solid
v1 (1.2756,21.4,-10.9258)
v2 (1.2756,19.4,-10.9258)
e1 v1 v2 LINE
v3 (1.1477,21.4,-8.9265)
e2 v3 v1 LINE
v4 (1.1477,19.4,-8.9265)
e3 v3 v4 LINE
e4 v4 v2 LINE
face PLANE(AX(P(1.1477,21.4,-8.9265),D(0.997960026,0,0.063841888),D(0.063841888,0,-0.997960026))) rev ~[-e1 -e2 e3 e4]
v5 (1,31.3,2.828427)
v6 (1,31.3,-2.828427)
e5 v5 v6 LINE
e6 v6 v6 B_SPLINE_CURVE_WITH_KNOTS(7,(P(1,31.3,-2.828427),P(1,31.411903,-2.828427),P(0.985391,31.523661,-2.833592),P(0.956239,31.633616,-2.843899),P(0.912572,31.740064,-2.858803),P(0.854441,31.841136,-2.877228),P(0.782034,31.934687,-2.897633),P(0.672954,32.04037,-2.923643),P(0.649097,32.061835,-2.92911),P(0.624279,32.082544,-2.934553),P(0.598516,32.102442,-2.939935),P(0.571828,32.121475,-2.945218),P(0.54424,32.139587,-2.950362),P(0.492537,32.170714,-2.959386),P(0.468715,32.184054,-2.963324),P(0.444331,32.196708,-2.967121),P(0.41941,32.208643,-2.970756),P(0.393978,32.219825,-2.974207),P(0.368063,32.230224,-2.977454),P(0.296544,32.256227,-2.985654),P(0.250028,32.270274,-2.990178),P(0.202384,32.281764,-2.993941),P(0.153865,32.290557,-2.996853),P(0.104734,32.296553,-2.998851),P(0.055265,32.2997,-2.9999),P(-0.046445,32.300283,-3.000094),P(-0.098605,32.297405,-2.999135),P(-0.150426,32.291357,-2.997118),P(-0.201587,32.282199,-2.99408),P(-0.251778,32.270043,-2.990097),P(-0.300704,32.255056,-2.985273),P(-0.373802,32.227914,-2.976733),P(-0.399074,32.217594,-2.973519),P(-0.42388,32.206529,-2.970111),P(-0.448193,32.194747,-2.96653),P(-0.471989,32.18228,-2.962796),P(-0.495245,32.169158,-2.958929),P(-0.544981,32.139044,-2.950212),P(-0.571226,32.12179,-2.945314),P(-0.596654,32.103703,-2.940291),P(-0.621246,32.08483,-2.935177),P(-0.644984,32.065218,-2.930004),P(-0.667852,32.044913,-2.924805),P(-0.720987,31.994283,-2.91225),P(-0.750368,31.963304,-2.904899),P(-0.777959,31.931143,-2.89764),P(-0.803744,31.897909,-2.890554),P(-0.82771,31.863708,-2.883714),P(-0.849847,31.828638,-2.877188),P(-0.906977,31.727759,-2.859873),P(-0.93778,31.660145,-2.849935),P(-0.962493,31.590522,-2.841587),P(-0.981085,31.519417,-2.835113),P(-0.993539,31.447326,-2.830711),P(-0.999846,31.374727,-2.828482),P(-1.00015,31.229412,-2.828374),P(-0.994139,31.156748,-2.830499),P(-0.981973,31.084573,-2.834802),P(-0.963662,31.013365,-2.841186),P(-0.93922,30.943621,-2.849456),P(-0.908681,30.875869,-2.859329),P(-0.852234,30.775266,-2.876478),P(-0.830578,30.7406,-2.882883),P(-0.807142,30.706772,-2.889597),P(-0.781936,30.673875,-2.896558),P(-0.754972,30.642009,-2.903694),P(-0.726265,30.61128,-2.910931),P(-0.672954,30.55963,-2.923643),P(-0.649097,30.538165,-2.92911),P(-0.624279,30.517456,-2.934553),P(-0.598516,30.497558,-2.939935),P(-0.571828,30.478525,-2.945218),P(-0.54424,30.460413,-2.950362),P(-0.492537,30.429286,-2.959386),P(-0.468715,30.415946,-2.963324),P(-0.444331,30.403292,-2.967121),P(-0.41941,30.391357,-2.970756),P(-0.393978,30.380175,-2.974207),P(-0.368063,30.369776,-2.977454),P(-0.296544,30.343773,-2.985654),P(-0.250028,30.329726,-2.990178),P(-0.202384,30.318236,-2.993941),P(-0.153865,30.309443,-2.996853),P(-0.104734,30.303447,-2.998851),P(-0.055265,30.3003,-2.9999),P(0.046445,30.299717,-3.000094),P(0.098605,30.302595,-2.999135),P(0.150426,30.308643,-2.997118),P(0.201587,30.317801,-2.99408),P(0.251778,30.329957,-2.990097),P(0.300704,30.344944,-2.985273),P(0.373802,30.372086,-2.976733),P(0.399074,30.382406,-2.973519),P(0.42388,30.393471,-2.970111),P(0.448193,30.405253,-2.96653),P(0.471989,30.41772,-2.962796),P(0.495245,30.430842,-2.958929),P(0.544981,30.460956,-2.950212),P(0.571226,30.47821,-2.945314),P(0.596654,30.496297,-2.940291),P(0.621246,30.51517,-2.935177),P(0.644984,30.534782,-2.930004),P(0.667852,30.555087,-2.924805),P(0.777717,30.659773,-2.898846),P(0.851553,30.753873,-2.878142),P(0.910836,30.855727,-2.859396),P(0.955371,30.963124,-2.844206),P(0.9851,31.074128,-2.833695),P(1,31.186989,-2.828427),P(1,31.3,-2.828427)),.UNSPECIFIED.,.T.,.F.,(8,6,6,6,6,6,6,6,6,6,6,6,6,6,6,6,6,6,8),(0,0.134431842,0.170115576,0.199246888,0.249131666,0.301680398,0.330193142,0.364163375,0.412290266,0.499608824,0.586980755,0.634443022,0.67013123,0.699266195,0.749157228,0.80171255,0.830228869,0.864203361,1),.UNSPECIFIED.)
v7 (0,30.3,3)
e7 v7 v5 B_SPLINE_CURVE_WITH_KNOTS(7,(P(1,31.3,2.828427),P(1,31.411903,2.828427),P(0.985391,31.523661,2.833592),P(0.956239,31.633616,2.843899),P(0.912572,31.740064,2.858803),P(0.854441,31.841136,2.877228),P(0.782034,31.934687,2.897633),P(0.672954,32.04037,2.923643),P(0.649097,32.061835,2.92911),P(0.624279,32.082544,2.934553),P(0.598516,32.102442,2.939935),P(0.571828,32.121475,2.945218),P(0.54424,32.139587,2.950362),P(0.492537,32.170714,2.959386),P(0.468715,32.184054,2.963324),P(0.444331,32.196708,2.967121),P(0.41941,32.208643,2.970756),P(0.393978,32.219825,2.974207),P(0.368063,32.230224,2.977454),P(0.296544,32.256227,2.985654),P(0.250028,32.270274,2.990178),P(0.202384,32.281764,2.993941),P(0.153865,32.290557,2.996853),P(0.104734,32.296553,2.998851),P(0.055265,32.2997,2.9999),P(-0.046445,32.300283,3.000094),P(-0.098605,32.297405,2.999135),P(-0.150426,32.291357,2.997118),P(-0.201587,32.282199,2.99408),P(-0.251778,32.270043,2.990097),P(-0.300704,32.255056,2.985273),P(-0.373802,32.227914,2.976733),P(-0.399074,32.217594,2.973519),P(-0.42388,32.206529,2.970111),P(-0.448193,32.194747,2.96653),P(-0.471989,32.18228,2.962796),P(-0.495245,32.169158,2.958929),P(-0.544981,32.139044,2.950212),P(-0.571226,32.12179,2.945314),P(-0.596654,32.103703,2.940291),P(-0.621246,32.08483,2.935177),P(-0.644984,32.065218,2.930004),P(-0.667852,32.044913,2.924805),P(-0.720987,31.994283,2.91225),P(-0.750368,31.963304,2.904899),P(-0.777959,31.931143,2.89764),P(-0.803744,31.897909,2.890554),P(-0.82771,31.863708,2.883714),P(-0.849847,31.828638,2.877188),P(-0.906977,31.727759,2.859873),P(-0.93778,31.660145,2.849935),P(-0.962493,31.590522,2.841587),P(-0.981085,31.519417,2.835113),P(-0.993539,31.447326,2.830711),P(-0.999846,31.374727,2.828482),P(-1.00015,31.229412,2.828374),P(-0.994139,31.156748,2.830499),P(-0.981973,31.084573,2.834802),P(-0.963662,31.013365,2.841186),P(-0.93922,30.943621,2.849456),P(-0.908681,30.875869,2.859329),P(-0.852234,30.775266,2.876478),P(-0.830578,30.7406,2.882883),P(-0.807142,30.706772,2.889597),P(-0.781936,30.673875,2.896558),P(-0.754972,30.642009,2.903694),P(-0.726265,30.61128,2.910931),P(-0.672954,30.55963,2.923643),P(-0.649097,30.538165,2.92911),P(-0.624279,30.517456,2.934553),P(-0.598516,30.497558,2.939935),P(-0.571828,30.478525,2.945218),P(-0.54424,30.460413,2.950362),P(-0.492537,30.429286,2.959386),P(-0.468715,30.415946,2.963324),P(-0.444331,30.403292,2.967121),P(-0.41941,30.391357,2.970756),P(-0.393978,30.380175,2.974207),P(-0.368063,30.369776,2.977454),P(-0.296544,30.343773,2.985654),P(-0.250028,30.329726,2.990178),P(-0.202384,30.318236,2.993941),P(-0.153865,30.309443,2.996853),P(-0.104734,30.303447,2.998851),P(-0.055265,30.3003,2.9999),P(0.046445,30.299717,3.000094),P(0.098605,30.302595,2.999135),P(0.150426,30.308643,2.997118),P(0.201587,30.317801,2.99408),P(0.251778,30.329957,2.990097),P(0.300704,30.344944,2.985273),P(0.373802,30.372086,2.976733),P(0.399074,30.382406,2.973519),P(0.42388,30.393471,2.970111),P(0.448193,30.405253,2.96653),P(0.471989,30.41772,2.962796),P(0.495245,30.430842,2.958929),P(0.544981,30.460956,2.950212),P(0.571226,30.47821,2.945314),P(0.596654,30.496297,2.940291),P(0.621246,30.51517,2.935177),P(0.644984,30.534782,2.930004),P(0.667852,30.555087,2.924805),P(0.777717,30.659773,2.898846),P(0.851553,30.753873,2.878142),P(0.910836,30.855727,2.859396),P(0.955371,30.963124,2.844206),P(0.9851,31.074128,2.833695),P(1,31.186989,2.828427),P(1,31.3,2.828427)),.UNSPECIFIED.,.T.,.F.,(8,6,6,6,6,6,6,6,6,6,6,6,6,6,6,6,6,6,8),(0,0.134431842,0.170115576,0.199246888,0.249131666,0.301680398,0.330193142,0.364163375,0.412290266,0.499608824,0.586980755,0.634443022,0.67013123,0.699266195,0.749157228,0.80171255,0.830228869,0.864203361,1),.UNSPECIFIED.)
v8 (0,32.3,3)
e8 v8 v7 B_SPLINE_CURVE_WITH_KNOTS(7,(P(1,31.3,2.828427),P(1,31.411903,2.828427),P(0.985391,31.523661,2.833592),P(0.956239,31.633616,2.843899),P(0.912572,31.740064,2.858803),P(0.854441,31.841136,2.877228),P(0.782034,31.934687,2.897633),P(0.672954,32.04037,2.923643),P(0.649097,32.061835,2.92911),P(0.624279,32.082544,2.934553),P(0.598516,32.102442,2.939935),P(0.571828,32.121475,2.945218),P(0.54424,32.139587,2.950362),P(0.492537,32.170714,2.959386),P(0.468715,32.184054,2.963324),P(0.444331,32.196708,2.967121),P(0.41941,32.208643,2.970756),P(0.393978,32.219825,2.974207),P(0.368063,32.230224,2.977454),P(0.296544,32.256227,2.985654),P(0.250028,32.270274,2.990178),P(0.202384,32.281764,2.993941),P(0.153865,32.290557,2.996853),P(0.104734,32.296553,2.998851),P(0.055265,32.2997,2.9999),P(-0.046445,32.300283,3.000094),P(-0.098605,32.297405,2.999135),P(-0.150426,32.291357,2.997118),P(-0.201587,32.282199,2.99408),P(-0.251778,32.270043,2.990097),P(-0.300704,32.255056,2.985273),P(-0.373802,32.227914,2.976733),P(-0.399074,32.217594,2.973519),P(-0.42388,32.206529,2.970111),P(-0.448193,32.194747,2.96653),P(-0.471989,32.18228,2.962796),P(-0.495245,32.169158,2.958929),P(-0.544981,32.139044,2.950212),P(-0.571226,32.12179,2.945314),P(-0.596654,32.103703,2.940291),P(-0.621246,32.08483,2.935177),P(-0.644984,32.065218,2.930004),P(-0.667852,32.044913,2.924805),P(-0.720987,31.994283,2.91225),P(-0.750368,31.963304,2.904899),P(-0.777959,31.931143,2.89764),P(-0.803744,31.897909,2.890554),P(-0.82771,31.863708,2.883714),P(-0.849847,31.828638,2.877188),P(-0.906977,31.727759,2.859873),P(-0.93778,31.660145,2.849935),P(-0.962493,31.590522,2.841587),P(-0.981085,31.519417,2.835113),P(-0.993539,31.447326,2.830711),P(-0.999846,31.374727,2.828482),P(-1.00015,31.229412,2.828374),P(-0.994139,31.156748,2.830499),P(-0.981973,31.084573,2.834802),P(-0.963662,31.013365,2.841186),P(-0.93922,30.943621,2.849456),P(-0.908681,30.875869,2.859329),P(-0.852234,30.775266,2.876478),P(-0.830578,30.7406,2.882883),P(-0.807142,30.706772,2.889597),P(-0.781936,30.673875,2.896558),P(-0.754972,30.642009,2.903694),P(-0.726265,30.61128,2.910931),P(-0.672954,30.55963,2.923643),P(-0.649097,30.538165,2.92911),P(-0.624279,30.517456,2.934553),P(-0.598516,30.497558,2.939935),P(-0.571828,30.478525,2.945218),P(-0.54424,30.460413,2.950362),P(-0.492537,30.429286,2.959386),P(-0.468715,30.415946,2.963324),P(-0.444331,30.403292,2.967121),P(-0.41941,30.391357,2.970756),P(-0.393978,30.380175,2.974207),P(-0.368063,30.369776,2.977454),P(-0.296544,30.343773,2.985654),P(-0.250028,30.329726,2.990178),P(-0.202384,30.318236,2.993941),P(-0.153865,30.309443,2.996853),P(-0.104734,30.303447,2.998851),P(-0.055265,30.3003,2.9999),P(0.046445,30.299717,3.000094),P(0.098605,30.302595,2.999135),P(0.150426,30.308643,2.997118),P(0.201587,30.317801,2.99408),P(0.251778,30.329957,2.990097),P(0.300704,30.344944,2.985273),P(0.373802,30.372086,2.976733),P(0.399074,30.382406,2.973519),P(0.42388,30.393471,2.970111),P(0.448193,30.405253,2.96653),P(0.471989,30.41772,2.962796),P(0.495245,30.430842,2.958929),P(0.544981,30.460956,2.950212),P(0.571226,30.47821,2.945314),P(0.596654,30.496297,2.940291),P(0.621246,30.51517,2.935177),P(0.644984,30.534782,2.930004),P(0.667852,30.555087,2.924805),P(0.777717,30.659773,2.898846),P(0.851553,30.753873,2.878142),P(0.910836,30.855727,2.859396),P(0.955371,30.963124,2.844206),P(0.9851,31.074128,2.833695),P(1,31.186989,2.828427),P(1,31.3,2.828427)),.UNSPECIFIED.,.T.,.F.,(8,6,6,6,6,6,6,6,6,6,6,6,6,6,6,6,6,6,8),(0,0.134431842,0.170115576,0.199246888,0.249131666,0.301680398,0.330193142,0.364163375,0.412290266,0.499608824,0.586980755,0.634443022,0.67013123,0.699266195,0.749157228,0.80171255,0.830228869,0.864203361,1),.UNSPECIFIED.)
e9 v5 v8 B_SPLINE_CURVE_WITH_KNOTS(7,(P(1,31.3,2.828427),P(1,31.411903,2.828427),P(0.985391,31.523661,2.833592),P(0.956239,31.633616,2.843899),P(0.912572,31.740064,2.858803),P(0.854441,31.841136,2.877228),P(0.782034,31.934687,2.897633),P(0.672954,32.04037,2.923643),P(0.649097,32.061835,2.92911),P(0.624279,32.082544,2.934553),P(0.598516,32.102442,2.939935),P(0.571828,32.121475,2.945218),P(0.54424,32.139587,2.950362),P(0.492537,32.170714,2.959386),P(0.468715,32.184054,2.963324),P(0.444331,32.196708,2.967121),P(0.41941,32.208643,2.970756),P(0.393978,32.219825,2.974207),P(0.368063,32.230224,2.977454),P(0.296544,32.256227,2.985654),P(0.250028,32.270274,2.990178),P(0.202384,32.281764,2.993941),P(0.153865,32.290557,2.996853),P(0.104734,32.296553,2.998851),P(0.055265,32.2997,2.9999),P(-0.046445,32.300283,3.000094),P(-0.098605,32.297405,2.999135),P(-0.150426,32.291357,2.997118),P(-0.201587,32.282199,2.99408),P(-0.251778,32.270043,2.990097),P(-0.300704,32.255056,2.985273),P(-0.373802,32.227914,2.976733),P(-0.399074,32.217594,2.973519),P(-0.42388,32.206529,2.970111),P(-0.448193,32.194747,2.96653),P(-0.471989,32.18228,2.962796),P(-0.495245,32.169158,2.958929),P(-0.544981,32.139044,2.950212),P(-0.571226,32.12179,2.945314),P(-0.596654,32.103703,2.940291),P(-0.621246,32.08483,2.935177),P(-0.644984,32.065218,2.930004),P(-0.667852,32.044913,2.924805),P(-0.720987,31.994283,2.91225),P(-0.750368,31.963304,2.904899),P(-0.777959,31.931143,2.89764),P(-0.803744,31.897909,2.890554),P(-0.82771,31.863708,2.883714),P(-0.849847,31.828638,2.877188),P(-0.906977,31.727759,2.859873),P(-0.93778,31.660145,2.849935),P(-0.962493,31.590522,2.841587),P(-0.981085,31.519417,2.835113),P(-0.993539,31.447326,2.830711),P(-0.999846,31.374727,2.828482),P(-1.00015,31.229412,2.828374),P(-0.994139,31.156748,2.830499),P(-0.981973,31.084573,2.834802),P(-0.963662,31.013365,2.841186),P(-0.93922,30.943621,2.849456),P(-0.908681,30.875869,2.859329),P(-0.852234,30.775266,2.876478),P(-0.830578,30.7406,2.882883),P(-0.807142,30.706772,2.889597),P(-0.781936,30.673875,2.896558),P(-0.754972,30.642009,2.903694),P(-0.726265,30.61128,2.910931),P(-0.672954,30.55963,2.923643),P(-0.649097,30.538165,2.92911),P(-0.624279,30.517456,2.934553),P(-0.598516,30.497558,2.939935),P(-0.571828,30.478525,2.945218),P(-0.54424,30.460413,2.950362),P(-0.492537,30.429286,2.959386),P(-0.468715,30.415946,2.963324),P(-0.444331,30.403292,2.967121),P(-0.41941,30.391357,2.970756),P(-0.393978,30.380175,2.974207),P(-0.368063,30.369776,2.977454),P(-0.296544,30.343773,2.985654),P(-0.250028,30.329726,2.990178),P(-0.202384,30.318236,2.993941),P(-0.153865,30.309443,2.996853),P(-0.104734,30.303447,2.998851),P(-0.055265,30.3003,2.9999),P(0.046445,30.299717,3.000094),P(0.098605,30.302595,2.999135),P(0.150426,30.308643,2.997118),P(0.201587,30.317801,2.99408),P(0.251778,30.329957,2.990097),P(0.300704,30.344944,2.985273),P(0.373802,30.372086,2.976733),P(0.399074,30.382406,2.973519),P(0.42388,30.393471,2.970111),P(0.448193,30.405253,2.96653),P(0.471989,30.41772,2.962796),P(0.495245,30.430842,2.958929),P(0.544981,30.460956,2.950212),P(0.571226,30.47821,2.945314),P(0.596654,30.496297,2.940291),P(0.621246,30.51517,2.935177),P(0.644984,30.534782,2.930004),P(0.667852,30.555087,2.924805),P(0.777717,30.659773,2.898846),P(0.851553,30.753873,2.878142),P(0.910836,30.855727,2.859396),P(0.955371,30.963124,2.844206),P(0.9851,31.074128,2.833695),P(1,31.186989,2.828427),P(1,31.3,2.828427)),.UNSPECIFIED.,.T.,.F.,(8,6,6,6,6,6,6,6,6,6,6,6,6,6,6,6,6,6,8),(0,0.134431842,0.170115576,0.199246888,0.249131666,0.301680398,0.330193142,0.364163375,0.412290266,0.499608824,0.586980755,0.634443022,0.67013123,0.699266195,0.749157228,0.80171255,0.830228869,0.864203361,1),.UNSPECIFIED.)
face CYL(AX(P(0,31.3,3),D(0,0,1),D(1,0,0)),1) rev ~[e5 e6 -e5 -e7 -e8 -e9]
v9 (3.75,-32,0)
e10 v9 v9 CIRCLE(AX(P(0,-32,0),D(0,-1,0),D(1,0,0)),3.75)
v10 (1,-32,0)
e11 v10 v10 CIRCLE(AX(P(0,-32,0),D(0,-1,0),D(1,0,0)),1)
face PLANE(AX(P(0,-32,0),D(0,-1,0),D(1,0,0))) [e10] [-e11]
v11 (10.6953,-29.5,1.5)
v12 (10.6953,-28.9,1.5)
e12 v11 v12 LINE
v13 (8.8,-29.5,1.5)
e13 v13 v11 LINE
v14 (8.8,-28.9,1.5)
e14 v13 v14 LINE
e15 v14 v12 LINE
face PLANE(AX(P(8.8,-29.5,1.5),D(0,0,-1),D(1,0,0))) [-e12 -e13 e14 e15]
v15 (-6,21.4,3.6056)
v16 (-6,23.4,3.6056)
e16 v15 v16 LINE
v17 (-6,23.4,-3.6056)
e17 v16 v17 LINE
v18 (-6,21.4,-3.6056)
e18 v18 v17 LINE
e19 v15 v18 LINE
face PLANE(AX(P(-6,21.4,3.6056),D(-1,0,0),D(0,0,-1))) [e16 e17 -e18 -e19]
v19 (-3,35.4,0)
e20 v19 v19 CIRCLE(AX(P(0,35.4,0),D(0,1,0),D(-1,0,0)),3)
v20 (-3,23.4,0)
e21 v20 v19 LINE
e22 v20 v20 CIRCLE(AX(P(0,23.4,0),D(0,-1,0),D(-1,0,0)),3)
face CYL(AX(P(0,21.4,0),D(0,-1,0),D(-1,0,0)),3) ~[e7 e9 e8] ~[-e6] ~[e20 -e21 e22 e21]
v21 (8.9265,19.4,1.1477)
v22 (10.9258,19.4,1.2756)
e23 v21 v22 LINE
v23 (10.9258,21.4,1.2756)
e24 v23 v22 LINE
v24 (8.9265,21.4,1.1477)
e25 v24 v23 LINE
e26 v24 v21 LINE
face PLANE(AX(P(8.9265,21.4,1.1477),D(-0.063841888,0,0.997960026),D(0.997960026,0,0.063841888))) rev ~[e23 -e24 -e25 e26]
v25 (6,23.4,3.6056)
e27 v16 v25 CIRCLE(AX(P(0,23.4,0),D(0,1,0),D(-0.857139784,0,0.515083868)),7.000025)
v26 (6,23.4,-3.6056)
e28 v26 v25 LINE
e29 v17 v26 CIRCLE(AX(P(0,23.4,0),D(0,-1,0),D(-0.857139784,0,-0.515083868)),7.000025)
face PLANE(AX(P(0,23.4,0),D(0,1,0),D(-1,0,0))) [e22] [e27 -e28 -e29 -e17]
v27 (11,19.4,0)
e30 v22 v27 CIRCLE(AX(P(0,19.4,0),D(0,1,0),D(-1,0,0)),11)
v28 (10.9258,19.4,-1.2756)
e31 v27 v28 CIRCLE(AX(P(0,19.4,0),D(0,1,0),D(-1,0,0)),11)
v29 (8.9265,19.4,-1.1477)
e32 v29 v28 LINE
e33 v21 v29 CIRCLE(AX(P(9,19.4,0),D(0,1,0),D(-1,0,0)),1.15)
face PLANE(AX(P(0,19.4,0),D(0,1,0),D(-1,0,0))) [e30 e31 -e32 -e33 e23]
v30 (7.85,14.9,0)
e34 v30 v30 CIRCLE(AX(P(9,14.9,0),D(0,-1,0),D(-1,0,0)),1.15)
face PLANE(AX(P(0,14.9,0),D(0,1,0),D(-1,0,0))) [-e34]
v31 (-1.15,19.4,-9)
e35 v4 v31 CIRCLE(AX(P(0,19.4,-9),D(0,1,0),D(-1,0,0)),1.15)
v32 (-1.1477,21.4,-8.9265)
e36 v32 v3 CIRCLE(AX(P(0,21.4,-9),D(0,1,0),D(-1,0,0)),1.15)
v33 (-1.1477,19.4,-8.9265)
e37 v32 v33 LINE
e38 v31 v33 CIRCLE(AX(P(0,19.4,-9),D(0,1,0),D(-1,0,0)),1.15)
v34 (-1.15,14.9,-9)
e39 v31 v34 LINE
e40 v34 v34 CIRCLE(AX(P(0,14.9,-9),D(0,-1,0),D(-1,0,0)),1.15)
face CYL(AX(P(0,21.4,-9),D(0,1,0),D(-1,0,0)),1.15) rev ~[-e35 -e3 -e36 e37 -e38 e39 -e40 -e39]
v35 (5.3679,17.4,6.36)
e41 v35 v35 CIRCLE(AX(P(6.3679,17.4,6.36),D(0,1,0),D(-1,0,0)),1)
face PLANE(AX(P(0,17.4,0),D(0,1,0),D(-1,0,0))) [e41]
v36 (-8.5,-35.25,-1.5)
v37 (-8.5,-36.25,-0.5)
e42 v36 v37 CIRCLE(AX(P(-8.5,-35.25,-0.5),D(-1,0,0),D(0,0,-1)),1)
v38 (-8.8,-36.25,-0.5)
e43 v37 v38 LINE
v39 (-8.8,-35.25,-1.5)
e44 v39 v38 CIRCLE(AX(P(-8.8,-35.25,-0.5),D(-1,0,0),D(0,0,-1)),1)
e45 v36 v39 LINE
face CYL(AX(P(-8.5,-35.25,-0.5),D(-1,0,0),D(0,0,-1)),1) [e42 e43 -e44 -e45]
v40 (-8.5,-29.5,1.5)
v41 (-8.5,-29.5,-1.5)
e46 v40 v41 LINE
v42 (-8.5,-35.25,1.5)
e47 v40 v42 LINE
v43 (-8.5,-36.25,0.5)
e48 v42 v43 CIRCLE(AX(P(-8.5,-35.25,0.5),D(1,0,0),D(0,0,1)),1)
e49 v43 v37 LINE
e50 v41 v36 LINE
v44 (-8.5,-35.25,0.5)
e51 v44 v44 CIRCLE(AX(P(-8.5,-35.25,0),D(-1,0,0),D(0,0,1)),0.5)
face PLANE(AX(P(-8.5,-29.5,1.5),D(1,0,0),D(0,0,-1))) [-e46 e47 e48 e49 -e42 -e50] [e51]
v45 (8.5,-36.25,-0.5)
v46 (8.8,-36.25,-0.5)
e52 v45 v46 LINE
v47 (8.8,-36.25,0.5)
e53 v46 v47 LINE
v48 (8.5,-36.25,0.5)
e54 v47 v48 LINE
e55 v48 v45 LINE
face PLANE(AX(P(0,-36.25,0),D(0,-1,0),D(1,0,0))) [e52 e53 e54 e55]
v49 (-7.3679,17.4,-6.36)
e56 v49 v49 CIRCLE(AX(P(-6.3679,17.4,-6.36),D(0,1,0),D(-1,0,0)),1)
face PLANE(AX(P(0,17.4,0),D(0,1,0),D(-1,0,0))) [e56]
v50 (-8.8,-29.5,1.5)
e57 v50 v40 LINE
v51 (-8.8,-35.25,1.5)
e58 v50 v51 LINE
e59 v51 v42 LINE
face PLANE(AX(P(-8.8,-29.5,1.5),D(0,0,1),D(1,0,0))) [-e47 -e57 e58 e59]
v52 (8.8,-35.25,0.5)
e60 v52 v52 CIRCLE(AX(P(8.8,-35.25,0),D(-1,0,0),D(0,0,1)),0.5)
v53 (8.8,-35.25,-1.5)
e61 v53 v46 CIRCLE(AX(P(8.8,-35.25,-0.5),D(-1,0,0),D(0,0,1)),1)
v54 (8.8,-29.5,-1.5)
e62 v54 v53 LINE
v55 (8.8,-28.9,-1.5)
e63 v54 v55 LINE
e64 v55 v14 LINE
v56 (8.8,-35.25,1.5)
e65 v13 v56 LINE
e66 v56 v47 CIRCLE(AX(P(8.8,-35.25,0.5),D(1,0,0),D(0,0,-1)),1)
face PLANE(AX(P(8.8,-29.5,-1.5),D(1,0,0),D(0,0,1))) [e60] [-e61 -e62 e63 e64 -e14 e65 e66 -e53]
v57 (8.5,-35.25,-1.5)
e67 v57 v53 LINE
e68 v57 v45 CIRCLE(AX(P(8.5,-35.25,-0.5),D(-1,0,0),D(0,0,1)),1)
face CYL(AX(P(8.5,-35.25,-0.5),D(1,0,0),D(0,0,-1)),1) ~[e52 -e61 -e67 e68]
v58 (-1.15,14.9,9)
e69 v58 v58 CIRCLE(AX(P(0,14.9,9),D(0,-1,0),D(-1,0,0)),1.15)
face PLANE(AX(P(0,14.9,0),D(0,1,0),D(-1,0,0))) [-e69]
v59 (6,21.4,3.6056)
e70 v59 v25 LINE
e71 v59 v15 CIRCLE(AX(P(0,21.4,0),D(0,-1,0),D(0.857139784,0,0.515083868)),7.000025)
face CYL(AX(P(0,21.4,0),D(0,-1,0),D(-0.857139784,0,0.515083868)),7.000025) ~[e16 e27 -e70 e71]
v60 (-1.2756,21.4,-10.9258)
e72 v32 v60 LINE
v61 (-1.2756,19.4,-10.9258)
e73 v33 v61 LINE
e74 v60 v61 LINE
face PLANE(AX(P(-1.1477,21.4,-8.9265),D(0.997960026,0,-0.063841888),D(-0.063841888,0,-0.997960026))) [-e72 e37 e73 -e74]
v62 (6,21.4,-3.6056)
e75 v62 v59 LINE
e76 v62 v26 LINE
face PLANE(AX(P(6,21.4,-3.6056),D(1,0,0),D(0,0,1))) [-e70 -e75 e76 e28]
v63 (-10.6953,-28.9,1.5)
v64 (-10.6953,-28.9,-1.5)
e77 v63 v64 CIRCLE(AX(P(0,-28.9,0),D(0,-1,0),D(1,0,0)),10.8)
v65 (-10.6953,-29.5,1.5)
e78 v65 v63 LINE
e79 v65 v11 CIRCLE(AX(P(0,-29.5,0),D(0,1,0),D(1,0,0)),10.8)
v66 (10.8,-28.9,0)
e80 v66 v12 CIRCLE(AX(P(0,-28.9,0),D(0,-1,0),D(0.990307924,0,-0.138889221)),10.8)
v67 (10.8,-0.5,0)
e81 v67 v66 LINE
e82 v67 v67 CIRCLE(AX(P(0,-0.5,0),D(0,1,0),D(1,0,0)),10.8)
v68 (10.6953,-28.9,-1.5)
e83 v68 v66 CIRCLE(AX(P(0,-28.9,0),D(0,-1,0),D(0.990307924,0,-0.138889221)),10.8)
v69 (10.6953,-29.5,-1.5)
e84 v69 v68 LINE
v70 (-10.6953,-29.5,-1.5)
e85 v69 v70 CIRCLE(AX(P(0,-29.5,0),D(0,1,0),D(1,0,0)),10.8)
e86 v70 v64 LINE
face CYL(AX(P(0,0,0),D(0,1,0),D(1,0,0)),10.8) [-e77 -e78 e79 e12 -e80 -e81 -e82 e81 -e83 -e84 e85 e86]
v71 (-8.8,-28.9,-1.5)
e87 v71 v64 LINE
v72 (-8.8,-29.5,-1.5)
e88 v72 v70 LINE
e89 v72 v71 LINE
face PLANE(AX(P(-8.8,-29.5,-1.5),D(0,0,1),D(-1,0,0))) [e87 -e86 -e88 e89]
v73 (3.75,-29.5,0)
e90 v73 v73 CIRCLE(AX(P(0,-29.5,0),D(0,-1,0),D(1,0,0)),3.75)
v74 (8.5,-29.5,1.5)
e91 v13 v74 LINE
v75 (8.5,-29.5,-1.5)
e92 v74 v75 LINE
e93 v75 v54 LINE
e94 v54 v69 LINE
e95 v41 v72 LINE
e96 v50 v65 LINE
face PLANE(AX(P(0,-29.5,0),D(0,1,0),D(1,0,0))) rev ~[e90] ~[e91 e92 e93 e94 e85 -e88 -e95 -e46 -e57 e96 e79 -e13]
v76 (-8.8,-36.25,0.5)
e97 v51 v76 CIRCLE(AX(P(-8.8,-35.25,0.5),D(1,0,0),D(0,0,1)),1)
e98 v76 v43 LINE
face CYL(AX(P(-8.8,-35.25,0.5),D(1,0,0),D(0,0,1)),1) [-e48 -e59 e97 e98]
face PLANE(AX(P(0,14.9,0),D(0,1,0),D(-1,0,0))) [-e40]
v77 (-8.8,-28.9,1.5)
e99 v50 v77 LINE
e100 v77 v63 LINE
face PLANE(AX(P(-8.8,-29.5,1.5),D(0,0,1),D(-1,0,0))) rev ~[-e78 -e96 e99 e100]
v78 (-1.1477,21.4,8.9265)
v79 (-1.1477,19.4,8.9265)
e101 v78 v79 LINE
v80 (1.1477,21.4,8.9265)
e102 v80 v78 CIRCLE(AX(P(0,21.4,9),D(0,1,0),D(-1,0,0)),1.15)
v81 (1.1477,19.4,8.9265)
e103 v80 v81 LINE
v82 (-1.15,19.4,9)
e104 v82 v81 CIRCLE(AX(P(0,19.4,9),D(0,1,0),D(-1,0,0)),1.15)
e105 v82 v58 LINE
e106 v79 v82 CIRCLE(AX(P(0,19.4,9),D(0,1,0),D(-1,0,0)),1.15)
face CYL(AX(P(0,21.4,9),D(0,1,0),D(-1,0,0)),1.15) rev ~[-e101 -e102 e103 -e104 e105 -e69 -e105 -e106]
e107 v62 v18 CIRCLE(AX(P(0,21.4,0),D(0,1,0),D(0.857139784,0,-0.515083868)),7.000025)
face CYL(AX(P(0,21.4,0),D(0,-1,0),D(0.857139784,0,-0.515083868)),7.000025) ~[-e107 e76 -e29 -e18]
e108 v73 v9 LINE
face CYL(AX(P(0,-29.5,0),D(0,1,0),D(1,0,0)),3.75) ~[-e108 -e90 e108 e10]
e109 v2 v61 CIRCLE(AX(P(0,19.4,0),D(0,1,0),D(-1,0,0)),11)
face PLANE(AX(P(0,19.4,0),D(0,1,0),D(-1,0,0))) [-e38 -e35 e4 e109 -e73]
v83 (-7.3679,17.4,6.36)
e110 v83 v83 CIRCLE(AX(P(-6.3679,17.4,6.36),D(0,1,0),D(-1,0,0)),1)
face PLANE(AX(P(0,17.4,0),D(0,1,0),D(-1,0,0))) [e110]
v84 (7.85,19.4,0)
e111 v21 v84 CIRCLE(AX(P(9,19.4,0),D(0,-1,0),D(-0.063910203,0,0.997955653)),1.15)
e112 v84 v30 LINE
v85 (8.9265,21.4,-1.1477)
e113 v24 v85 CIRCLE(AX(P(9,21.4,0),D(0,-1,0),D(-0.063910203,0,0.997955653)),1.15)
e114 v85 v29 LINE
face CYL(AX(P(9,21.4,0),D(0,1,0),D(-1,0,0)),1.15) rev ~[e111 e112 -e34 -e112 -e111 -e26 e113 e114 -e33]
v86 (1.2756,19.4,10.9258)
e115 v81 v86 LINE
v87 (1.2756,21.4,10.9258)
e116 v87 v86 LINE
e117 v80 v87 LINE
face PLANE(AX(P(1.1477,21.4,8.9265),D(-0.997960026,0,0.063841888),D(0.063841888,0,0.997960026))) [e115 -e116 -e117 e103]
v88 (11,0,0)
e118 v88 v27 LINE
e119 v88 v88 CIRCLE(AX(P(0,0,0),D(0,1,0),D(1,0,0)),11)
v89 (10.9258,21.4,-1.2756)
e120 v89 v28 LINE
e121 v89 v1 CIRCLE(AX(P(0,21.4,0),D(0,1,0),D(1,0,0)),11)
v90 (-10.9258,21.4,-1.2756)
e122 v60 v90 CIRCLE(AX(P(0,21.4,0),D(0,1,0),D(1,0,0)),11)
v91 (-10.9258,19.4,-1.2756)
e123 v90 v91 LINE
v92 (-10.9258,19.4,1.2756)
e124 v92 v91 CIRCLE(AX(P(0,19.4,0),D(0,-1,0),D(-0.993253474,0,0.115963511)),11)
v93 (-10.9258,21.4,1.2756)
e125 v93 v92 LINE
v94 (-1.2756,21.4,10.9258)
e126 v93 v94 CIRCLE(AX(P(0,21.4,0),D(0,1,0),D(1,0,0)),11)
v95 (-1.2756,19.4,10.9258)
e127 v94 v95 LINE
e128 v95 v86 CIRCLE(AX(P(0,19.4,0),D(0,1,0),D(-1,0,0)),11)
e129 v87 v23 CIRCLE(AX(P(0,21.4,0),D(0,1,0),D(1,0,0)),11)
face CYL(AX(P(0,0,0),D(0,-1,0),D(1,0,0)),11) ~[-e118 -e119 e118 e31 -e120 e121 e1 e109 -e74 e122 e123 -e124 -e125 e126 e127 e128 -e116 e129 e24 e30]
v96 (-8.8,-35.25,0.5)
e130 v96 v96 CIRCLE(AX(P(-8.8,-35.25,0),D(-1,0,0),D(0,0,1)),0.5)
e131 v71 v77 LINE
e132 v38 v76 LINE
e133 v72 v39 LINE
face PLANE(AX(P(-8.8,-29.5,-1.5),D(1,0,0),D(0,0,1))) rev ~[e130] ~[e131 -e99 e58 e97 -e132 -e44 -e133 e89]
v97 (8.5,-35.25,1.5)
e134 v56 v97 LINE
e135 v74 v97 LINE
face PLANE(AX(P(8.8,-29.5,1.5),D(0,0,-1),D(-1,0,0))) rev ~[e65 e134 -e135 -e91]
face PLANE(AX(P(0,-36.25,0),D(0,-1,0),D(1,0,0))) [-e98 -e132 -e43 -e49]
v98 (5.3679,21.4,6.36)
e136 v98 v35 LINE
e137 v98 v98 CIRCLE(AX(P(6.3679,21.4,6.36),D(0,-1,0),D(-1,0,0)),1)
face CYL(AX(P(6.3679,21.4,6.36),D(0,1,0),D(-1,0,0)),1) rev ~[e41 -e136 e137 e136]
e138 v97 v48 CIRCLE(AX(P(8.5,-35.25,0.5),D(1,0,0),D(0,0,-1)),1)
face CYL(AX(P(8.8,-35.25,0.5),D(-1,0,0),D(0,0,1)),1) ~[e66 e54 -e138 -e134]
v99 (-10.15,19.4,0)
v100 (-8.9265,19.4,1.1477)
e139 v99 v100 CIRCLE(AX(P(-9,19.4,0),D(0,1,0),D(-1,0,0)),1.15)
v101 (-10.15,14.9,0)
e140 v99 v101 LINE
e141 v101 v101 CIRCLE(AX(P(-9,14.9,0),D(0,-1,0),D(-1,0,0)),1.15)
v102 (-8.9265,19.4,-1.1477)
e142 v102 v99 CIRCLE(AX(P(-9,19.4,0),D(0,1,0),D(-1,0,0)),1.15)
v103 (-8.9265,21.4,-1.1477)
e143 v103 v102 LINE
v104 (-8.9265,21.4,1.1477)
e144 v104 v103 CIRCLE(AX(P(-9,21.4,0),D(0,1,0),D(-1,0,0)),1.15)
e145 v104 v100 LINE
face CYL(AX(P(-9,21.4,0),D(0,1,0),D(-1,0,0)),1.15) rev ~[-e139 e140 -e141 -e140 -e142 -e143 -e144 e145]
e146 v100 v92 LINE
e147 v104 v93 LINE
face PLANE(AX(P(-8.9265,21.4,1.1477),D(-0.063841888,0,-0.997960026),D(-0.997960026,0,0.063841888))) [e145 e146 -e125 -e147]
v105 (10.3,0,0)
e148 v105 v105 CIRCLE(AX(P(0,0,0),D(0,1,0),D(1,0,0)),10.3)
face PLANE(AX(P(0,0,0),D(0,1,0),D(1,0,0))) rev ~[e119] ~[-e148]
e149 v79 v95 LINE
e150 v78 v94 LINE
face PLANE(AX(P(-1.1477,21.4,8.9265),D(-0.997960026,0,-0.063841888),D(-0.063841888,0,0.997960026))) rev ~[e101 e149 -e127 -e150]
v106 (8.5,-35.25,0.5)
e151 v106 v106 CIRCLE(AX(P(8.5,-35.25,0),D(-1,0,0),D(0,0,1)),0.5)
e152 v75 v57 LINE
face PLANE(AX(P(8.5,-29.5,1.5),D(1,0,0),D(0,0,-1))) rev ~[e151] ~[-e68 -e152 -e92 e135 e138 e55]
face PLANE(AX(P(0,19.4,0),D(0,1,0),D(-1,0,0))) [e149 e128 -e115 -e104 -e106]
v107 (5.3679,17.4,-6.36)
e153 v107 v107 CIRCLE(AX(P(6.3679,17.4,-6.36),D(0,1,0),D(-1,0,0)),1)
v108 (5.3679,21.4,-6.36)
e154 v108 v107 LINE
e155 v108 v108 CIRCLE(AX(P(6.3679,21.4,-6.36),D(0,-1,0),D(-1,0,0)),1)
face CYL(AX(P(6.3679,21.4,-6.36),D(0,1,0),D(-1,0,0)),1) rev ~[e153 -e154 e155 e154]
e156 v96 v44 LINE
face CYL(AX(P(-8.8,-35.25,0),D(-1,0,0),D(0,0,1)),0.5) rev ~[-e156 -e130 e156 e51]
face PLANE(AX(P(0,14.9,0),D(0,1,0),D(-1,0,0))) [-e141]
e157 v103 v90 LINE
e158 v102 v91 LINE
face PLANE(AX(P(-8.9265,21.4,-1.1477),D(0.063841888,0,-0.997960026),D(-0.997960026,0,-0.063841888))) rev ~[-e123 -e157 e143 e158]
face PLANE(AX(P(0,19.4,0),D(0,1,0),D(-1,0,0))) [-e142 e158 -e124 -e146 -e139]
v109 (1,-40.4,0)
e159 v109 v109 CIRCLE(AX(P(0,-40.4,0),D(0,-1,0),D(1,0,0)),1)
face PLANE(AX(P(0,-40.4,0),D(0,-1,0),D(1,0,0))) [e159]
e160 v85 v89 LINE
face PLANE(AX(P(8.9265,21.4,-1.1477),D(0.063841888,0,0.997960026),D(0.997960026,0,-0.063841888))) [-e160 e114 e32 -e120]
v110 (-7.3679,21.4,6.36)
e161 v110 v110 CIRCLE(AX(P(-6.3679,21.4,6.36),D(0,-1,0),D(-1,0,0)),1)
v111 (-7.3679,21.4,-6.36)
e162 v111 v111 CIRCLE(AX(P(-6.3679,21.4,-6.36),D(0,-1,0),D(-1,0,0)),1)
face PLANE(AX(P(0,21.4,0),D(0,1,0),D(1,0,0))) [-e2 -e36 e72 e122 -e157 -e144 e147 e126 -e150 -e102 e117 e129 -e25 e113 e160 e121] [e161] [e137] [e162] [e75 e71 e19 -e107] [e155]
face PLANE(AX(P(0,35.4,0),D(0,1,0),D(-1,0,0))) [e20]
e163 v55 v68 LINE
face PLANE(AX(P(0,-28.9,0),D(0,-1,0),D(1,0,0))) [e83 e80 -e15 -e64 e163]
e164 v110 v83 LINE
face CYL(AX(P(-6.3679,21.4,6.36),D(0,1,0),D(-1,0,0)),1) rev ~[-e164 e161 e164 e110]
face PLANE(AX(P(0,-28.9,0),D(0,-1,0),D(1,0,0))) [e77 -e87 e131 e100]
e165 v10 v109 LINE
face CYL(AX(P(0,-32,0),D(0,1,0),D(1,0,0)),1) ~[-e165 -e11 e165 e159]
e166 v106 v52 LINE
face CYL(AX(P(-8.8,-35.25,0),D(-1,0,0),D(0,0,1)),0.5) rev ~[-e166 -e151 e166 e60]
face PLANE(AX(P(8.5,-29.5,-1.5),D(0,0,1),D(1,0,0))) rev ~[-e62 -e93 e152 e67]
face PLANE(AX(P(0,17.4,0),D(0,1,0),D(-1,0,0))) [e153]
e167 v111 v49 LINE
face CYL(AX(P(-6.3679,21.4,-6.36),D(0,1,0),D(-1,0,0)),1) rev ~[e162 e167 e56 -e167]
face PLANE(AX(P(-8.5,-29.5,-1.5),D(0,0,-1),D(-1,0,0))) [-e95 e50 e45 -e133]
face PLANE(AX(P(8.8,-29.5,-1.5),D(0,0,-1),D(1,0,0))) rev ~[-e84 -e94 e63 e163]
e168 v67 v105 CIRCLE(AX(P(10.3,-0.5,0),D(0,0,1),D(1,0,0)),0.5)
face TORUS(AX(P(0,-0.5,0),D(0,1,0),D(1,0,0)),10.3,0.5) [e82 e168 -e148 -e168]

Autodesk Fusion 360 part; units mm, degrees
sketch "Sketch1" plane through (0, 0, 0) normal (0, 1, 0) x (1, 0, 0)
  circle A0 centre (0, 0) radius 11
  circle A1 centre (0, 0) radius 10.8
  dimension "d1" = 22
  dimension "d4" = 21.6
extrude "Extrude1" add sketch "Sketch1" along normal blind 21.4 contours A0 | A1 makes body 1
extrude "Extrude2" add sketch "Sketch1" against normal blind 29.5 separate body contours A1 makes body 2
sketch "Sketch2" plane through (0, -29.5, 0) normal (0, -1, 0) x (1, 0, 0)
  circle A0 centre (0, 0) radius 10.8
  circle A1 centre (0, 0) radius 3.75
  circle A2 centre (0, 0) radius 1
  dimension "d7" = 7.5
  dimension "d8" = 2
extrude "Extrude3" add sketch "Sketch2" along normal blind 2.5 contours A1 | A2 bodies 2
sketch "Sketch3" plane through (0, -29.5, 0) normal (0, -1, 0) x (1, 0, 0)
  circle A0 centre (0, 0) radius 3.75
  circle A1 centre (0, 0) radius 10.8
  line L0 (0, 0) -> (10.8, 0) construction
  line L1 (0, 0) -> (0, 10.8) construction
  line L2 (8.5, -1.5) -> (8.8, -1.5)
  line L3 (8.8, -1.5) -> (8.8, 1.5)
  line L4 (8.8, 1.5) -> (8.5, 1.5)
  line L5 (8.5, 1.5) -> (8.5, -1.5)
  line L6 (8.5, -1.5) -> (8.8, 1.5) construction
  line L7 (8.8, -1.5) -> (8.5, 1.5) construction
  line L8 (-8.8, -1.5) -> (-8.5, 1.5) construction
  line L9 (-8.5, 1.5) -> (-8.5, -1.5)
  line L10 (-8.8, -1.5) -> (-8.8, 1.5)
  line L11 (0, 0) -> (-10.8, 0) construction
  line L12 (-8.5, -1.5) -> (-8.8, 1.5) construction
  line L13 (-8.8, 1.5) -> (-8.5, 1.5)
  line L14 (-8.5, -1.5) -> (-8.8, -1.5)
  line L15 (-8.8, 1.5) -> (-10.6953, 1.5)
  line L16 (-8.8, -1.5) -> (-10.6953, -1.5)
  circle A2 centre (0, 0) radius 10.8
  line L17 (8.8, 1.5) -> (10.6953, 1.5)
  line L18 (8.8, -1.5) -> (10.6953, -1.5)
  point P0 (8.65, 0)
  dimension "d14" = 0.3
  dimension "d15" = 3
  dimension "d16" = 2
extrude "Extrude5" add sketch "Sketch3" along normal blind 6.75 contours L2 L3 L4 L5 | L9 L10 L13 L14 bodies 2
sketch "Sketch4" plane through (-8.8, 0, 0) normal (-1, 0, 0) x (0, 0, 1)
  line L0 (1.5, -29.5) -> (-1.5, -29.5)
  line L1 (-1.5, -29.5) -> (-1.5, -36.25)
  line L2 (-1.5, -36.25) -> (1.5, -36.25)
  line L3 (1.5, -36.25) -> (1.5, -29.5)
  circle A0 centre (0, -35.25) radius 0.5
  dimension "d19" = 1
  dimension "d20" = 1
  dimension "d21" = 1.5
extrude "Extrude6" cut sketch "Sketch4" against normal blind 1000 contours A0 bodies 2
fillet "Fillet1" radius 1 4 edges at (-8.65, -36.25, -1.5) (-8.65, -36.25, 1.5) (8.65, -36.25, 1.5) (8.65, -36.25, -1.5) on bodies 2
extrude "Extrude7" add sketch "Sketch2" along normal blind 8.4 from surface at 2.5 separate body contours A2 makes body 3
sketch "Sketch5" plane through (0, 21.4, 0) normal (0, 1, 0) x (-1, 0, 0)
  circle A0 centre (0, 0) radius 11
  line L0 (6, -3.625) -> (-6, -3.625)
  line L1 (-6, -3.625) -> (-6, 3.625)
  line L2 (-6, 3.625) -> (6, 3.625)
  line L3 (6, 3.625) -> (6, -3.625)
  line L4 (6, -3.625) -> (-6, 3.625) construction
  line L5 (-6, -3.625) -> (6, 3.625) construction
  line L6 (6, -3.625) -> (6, 3.625)
  arc A1 (-6, -3.6056) -> (6, -3.6056) centre (0, 0) ccw
  arc A2 (6, 3.6056) -> (-6, 3.6056) centre (0, 0) ccw
  circle A3 centre (0, 0) radius 3
  circle A4 centre (0, 0) radius 9
  line L7 (0, 0) -> (0, -11) construction
  line L8 (0, 0) -> (0, 11) construction
  line L9 (0, 0) -> (-11, 0) construction
  line L10 (0, 0) -> (11, 0) construction
  circle A5 centre (9, 0) radius 1.15
  circle A6 centre (0, 9) radius 1.15
  circle A7 centre (-9, 0) radius 1.15
  circle A8 centre (0, -9) radius 1.15
  line L11 (8.9265, -1.1477) -> (10.9258, -1.2756)
  line L12 (8.9265, 1.1477) -> (10.9258, 1.2756)
  line L13 (-8.9265, -1.1477) -> (-10.9258, -1.2756)
  line L14 (-8.9265, 1.1477) -> (-10.9258, 1.2756)
  line L15 (-1.1477, -8.9265) -> (-1.2756, -10.9258)
  line L16 (1.1477, -8.9265) -> (1.2756, -10.9258)
  line L17 (1.1477, 8.9265) -> (1.2756, 10.9258)
  line L18 (-1.1477, 8.9265) -> (-1.2756, 10.9258)
  line L19 (0, 0) -> (-6.3679, 6.36) construction
  circle A9 centre (-6.3679, 6.36) radius 1
  circle A10 centre (6.3679, 6.36) radius 1
  circle A11 centre (-6.3679, -6.36) radius 1
  circle A12 centre (6.3679, -6.36) radius 1
  dimension "d32" = 14
  dimension "d33" = 12
  dimension "d34" = 7.25
  dimension "d37" = 6
  dimension "d40" = 18
  dimension "d41" = 2.3
  dimension "d42" = 2.3
  dimension "d43" = 2.3
  dimension "d44" = 2.3
  dimension "d49" = 2
extrude "Extrude8" add sketch "Sketch5" along normal blind 2 contours L0 A1 | L0 L1 L2 L3 L6 A1 A2 | L2 A2 | A3 bodies 1
extrude "Extrude9" add sketch "Sketch5" along normal blind 14 contours A3 bodies 1
extrude "Extrude10" cut sketch "Sketch5" against normal blind 2 contours A0 A5 L11 L12 | A0 A6 L17 L18 | A4 A5 | A4 A5 | A0 A8 L15 L16 | A4 A6 | A4 A6 | A4 A8 | A4 A8 | A0 A7 L13 L14 | A4 A7 | A4 A7 bodies 1
extrude "Extrude11" cut sketch "Sketch5" against normal blind 6.5 contours A4 A5 | A4 A5 | A4 A6 | A4 A6 | A4 A8 | A4 A8 | A4 A7 | A4 A7 bodies 1
extrude "Extrude12" cut sketch "Sketch5" against normal blind 4 contours A4 A10 | A4 A10 | A4 A12 | A4 A12 | A4 A9 | A4 A9 | A4 A11 | A4 A11 bodies 1
ref_plane "WorkPlane1" through (0, 31.7967, 3) normal (0, 0, 1) x (-1, 0, 0)
sketch "Sketch6" plane through (0, 0, 3) normal (0, 0, 1) x (1, 0, 0)
  line L0 (3, 35.4) -> (-3, 35.4)
  line L1 (-3, 23.4) -> (3, 23.4)
  circle A0 centre (0, 31.3) radius 1
  dimension "d53" = 2
  dimension "d54" = 4.1
extrude "Extrude13" cut sketch "Sketch6" against normal blind 99 bodies 1
fillet "Fillet2" radius 0.5 1 edges at (-10.0691, 0, 3.9054) on bodies 2
extrude "Extrude14" cut sketch "Sketch3" against normal blind 0.6 contours A1 L3 A2 L17 L18 | A1 L10 L15 L16 A2 bodies 2
combine "Combine1" operation add target body 2 tool bodies 3
combine "Combine2" operation add target body 1 tool bodies 2
